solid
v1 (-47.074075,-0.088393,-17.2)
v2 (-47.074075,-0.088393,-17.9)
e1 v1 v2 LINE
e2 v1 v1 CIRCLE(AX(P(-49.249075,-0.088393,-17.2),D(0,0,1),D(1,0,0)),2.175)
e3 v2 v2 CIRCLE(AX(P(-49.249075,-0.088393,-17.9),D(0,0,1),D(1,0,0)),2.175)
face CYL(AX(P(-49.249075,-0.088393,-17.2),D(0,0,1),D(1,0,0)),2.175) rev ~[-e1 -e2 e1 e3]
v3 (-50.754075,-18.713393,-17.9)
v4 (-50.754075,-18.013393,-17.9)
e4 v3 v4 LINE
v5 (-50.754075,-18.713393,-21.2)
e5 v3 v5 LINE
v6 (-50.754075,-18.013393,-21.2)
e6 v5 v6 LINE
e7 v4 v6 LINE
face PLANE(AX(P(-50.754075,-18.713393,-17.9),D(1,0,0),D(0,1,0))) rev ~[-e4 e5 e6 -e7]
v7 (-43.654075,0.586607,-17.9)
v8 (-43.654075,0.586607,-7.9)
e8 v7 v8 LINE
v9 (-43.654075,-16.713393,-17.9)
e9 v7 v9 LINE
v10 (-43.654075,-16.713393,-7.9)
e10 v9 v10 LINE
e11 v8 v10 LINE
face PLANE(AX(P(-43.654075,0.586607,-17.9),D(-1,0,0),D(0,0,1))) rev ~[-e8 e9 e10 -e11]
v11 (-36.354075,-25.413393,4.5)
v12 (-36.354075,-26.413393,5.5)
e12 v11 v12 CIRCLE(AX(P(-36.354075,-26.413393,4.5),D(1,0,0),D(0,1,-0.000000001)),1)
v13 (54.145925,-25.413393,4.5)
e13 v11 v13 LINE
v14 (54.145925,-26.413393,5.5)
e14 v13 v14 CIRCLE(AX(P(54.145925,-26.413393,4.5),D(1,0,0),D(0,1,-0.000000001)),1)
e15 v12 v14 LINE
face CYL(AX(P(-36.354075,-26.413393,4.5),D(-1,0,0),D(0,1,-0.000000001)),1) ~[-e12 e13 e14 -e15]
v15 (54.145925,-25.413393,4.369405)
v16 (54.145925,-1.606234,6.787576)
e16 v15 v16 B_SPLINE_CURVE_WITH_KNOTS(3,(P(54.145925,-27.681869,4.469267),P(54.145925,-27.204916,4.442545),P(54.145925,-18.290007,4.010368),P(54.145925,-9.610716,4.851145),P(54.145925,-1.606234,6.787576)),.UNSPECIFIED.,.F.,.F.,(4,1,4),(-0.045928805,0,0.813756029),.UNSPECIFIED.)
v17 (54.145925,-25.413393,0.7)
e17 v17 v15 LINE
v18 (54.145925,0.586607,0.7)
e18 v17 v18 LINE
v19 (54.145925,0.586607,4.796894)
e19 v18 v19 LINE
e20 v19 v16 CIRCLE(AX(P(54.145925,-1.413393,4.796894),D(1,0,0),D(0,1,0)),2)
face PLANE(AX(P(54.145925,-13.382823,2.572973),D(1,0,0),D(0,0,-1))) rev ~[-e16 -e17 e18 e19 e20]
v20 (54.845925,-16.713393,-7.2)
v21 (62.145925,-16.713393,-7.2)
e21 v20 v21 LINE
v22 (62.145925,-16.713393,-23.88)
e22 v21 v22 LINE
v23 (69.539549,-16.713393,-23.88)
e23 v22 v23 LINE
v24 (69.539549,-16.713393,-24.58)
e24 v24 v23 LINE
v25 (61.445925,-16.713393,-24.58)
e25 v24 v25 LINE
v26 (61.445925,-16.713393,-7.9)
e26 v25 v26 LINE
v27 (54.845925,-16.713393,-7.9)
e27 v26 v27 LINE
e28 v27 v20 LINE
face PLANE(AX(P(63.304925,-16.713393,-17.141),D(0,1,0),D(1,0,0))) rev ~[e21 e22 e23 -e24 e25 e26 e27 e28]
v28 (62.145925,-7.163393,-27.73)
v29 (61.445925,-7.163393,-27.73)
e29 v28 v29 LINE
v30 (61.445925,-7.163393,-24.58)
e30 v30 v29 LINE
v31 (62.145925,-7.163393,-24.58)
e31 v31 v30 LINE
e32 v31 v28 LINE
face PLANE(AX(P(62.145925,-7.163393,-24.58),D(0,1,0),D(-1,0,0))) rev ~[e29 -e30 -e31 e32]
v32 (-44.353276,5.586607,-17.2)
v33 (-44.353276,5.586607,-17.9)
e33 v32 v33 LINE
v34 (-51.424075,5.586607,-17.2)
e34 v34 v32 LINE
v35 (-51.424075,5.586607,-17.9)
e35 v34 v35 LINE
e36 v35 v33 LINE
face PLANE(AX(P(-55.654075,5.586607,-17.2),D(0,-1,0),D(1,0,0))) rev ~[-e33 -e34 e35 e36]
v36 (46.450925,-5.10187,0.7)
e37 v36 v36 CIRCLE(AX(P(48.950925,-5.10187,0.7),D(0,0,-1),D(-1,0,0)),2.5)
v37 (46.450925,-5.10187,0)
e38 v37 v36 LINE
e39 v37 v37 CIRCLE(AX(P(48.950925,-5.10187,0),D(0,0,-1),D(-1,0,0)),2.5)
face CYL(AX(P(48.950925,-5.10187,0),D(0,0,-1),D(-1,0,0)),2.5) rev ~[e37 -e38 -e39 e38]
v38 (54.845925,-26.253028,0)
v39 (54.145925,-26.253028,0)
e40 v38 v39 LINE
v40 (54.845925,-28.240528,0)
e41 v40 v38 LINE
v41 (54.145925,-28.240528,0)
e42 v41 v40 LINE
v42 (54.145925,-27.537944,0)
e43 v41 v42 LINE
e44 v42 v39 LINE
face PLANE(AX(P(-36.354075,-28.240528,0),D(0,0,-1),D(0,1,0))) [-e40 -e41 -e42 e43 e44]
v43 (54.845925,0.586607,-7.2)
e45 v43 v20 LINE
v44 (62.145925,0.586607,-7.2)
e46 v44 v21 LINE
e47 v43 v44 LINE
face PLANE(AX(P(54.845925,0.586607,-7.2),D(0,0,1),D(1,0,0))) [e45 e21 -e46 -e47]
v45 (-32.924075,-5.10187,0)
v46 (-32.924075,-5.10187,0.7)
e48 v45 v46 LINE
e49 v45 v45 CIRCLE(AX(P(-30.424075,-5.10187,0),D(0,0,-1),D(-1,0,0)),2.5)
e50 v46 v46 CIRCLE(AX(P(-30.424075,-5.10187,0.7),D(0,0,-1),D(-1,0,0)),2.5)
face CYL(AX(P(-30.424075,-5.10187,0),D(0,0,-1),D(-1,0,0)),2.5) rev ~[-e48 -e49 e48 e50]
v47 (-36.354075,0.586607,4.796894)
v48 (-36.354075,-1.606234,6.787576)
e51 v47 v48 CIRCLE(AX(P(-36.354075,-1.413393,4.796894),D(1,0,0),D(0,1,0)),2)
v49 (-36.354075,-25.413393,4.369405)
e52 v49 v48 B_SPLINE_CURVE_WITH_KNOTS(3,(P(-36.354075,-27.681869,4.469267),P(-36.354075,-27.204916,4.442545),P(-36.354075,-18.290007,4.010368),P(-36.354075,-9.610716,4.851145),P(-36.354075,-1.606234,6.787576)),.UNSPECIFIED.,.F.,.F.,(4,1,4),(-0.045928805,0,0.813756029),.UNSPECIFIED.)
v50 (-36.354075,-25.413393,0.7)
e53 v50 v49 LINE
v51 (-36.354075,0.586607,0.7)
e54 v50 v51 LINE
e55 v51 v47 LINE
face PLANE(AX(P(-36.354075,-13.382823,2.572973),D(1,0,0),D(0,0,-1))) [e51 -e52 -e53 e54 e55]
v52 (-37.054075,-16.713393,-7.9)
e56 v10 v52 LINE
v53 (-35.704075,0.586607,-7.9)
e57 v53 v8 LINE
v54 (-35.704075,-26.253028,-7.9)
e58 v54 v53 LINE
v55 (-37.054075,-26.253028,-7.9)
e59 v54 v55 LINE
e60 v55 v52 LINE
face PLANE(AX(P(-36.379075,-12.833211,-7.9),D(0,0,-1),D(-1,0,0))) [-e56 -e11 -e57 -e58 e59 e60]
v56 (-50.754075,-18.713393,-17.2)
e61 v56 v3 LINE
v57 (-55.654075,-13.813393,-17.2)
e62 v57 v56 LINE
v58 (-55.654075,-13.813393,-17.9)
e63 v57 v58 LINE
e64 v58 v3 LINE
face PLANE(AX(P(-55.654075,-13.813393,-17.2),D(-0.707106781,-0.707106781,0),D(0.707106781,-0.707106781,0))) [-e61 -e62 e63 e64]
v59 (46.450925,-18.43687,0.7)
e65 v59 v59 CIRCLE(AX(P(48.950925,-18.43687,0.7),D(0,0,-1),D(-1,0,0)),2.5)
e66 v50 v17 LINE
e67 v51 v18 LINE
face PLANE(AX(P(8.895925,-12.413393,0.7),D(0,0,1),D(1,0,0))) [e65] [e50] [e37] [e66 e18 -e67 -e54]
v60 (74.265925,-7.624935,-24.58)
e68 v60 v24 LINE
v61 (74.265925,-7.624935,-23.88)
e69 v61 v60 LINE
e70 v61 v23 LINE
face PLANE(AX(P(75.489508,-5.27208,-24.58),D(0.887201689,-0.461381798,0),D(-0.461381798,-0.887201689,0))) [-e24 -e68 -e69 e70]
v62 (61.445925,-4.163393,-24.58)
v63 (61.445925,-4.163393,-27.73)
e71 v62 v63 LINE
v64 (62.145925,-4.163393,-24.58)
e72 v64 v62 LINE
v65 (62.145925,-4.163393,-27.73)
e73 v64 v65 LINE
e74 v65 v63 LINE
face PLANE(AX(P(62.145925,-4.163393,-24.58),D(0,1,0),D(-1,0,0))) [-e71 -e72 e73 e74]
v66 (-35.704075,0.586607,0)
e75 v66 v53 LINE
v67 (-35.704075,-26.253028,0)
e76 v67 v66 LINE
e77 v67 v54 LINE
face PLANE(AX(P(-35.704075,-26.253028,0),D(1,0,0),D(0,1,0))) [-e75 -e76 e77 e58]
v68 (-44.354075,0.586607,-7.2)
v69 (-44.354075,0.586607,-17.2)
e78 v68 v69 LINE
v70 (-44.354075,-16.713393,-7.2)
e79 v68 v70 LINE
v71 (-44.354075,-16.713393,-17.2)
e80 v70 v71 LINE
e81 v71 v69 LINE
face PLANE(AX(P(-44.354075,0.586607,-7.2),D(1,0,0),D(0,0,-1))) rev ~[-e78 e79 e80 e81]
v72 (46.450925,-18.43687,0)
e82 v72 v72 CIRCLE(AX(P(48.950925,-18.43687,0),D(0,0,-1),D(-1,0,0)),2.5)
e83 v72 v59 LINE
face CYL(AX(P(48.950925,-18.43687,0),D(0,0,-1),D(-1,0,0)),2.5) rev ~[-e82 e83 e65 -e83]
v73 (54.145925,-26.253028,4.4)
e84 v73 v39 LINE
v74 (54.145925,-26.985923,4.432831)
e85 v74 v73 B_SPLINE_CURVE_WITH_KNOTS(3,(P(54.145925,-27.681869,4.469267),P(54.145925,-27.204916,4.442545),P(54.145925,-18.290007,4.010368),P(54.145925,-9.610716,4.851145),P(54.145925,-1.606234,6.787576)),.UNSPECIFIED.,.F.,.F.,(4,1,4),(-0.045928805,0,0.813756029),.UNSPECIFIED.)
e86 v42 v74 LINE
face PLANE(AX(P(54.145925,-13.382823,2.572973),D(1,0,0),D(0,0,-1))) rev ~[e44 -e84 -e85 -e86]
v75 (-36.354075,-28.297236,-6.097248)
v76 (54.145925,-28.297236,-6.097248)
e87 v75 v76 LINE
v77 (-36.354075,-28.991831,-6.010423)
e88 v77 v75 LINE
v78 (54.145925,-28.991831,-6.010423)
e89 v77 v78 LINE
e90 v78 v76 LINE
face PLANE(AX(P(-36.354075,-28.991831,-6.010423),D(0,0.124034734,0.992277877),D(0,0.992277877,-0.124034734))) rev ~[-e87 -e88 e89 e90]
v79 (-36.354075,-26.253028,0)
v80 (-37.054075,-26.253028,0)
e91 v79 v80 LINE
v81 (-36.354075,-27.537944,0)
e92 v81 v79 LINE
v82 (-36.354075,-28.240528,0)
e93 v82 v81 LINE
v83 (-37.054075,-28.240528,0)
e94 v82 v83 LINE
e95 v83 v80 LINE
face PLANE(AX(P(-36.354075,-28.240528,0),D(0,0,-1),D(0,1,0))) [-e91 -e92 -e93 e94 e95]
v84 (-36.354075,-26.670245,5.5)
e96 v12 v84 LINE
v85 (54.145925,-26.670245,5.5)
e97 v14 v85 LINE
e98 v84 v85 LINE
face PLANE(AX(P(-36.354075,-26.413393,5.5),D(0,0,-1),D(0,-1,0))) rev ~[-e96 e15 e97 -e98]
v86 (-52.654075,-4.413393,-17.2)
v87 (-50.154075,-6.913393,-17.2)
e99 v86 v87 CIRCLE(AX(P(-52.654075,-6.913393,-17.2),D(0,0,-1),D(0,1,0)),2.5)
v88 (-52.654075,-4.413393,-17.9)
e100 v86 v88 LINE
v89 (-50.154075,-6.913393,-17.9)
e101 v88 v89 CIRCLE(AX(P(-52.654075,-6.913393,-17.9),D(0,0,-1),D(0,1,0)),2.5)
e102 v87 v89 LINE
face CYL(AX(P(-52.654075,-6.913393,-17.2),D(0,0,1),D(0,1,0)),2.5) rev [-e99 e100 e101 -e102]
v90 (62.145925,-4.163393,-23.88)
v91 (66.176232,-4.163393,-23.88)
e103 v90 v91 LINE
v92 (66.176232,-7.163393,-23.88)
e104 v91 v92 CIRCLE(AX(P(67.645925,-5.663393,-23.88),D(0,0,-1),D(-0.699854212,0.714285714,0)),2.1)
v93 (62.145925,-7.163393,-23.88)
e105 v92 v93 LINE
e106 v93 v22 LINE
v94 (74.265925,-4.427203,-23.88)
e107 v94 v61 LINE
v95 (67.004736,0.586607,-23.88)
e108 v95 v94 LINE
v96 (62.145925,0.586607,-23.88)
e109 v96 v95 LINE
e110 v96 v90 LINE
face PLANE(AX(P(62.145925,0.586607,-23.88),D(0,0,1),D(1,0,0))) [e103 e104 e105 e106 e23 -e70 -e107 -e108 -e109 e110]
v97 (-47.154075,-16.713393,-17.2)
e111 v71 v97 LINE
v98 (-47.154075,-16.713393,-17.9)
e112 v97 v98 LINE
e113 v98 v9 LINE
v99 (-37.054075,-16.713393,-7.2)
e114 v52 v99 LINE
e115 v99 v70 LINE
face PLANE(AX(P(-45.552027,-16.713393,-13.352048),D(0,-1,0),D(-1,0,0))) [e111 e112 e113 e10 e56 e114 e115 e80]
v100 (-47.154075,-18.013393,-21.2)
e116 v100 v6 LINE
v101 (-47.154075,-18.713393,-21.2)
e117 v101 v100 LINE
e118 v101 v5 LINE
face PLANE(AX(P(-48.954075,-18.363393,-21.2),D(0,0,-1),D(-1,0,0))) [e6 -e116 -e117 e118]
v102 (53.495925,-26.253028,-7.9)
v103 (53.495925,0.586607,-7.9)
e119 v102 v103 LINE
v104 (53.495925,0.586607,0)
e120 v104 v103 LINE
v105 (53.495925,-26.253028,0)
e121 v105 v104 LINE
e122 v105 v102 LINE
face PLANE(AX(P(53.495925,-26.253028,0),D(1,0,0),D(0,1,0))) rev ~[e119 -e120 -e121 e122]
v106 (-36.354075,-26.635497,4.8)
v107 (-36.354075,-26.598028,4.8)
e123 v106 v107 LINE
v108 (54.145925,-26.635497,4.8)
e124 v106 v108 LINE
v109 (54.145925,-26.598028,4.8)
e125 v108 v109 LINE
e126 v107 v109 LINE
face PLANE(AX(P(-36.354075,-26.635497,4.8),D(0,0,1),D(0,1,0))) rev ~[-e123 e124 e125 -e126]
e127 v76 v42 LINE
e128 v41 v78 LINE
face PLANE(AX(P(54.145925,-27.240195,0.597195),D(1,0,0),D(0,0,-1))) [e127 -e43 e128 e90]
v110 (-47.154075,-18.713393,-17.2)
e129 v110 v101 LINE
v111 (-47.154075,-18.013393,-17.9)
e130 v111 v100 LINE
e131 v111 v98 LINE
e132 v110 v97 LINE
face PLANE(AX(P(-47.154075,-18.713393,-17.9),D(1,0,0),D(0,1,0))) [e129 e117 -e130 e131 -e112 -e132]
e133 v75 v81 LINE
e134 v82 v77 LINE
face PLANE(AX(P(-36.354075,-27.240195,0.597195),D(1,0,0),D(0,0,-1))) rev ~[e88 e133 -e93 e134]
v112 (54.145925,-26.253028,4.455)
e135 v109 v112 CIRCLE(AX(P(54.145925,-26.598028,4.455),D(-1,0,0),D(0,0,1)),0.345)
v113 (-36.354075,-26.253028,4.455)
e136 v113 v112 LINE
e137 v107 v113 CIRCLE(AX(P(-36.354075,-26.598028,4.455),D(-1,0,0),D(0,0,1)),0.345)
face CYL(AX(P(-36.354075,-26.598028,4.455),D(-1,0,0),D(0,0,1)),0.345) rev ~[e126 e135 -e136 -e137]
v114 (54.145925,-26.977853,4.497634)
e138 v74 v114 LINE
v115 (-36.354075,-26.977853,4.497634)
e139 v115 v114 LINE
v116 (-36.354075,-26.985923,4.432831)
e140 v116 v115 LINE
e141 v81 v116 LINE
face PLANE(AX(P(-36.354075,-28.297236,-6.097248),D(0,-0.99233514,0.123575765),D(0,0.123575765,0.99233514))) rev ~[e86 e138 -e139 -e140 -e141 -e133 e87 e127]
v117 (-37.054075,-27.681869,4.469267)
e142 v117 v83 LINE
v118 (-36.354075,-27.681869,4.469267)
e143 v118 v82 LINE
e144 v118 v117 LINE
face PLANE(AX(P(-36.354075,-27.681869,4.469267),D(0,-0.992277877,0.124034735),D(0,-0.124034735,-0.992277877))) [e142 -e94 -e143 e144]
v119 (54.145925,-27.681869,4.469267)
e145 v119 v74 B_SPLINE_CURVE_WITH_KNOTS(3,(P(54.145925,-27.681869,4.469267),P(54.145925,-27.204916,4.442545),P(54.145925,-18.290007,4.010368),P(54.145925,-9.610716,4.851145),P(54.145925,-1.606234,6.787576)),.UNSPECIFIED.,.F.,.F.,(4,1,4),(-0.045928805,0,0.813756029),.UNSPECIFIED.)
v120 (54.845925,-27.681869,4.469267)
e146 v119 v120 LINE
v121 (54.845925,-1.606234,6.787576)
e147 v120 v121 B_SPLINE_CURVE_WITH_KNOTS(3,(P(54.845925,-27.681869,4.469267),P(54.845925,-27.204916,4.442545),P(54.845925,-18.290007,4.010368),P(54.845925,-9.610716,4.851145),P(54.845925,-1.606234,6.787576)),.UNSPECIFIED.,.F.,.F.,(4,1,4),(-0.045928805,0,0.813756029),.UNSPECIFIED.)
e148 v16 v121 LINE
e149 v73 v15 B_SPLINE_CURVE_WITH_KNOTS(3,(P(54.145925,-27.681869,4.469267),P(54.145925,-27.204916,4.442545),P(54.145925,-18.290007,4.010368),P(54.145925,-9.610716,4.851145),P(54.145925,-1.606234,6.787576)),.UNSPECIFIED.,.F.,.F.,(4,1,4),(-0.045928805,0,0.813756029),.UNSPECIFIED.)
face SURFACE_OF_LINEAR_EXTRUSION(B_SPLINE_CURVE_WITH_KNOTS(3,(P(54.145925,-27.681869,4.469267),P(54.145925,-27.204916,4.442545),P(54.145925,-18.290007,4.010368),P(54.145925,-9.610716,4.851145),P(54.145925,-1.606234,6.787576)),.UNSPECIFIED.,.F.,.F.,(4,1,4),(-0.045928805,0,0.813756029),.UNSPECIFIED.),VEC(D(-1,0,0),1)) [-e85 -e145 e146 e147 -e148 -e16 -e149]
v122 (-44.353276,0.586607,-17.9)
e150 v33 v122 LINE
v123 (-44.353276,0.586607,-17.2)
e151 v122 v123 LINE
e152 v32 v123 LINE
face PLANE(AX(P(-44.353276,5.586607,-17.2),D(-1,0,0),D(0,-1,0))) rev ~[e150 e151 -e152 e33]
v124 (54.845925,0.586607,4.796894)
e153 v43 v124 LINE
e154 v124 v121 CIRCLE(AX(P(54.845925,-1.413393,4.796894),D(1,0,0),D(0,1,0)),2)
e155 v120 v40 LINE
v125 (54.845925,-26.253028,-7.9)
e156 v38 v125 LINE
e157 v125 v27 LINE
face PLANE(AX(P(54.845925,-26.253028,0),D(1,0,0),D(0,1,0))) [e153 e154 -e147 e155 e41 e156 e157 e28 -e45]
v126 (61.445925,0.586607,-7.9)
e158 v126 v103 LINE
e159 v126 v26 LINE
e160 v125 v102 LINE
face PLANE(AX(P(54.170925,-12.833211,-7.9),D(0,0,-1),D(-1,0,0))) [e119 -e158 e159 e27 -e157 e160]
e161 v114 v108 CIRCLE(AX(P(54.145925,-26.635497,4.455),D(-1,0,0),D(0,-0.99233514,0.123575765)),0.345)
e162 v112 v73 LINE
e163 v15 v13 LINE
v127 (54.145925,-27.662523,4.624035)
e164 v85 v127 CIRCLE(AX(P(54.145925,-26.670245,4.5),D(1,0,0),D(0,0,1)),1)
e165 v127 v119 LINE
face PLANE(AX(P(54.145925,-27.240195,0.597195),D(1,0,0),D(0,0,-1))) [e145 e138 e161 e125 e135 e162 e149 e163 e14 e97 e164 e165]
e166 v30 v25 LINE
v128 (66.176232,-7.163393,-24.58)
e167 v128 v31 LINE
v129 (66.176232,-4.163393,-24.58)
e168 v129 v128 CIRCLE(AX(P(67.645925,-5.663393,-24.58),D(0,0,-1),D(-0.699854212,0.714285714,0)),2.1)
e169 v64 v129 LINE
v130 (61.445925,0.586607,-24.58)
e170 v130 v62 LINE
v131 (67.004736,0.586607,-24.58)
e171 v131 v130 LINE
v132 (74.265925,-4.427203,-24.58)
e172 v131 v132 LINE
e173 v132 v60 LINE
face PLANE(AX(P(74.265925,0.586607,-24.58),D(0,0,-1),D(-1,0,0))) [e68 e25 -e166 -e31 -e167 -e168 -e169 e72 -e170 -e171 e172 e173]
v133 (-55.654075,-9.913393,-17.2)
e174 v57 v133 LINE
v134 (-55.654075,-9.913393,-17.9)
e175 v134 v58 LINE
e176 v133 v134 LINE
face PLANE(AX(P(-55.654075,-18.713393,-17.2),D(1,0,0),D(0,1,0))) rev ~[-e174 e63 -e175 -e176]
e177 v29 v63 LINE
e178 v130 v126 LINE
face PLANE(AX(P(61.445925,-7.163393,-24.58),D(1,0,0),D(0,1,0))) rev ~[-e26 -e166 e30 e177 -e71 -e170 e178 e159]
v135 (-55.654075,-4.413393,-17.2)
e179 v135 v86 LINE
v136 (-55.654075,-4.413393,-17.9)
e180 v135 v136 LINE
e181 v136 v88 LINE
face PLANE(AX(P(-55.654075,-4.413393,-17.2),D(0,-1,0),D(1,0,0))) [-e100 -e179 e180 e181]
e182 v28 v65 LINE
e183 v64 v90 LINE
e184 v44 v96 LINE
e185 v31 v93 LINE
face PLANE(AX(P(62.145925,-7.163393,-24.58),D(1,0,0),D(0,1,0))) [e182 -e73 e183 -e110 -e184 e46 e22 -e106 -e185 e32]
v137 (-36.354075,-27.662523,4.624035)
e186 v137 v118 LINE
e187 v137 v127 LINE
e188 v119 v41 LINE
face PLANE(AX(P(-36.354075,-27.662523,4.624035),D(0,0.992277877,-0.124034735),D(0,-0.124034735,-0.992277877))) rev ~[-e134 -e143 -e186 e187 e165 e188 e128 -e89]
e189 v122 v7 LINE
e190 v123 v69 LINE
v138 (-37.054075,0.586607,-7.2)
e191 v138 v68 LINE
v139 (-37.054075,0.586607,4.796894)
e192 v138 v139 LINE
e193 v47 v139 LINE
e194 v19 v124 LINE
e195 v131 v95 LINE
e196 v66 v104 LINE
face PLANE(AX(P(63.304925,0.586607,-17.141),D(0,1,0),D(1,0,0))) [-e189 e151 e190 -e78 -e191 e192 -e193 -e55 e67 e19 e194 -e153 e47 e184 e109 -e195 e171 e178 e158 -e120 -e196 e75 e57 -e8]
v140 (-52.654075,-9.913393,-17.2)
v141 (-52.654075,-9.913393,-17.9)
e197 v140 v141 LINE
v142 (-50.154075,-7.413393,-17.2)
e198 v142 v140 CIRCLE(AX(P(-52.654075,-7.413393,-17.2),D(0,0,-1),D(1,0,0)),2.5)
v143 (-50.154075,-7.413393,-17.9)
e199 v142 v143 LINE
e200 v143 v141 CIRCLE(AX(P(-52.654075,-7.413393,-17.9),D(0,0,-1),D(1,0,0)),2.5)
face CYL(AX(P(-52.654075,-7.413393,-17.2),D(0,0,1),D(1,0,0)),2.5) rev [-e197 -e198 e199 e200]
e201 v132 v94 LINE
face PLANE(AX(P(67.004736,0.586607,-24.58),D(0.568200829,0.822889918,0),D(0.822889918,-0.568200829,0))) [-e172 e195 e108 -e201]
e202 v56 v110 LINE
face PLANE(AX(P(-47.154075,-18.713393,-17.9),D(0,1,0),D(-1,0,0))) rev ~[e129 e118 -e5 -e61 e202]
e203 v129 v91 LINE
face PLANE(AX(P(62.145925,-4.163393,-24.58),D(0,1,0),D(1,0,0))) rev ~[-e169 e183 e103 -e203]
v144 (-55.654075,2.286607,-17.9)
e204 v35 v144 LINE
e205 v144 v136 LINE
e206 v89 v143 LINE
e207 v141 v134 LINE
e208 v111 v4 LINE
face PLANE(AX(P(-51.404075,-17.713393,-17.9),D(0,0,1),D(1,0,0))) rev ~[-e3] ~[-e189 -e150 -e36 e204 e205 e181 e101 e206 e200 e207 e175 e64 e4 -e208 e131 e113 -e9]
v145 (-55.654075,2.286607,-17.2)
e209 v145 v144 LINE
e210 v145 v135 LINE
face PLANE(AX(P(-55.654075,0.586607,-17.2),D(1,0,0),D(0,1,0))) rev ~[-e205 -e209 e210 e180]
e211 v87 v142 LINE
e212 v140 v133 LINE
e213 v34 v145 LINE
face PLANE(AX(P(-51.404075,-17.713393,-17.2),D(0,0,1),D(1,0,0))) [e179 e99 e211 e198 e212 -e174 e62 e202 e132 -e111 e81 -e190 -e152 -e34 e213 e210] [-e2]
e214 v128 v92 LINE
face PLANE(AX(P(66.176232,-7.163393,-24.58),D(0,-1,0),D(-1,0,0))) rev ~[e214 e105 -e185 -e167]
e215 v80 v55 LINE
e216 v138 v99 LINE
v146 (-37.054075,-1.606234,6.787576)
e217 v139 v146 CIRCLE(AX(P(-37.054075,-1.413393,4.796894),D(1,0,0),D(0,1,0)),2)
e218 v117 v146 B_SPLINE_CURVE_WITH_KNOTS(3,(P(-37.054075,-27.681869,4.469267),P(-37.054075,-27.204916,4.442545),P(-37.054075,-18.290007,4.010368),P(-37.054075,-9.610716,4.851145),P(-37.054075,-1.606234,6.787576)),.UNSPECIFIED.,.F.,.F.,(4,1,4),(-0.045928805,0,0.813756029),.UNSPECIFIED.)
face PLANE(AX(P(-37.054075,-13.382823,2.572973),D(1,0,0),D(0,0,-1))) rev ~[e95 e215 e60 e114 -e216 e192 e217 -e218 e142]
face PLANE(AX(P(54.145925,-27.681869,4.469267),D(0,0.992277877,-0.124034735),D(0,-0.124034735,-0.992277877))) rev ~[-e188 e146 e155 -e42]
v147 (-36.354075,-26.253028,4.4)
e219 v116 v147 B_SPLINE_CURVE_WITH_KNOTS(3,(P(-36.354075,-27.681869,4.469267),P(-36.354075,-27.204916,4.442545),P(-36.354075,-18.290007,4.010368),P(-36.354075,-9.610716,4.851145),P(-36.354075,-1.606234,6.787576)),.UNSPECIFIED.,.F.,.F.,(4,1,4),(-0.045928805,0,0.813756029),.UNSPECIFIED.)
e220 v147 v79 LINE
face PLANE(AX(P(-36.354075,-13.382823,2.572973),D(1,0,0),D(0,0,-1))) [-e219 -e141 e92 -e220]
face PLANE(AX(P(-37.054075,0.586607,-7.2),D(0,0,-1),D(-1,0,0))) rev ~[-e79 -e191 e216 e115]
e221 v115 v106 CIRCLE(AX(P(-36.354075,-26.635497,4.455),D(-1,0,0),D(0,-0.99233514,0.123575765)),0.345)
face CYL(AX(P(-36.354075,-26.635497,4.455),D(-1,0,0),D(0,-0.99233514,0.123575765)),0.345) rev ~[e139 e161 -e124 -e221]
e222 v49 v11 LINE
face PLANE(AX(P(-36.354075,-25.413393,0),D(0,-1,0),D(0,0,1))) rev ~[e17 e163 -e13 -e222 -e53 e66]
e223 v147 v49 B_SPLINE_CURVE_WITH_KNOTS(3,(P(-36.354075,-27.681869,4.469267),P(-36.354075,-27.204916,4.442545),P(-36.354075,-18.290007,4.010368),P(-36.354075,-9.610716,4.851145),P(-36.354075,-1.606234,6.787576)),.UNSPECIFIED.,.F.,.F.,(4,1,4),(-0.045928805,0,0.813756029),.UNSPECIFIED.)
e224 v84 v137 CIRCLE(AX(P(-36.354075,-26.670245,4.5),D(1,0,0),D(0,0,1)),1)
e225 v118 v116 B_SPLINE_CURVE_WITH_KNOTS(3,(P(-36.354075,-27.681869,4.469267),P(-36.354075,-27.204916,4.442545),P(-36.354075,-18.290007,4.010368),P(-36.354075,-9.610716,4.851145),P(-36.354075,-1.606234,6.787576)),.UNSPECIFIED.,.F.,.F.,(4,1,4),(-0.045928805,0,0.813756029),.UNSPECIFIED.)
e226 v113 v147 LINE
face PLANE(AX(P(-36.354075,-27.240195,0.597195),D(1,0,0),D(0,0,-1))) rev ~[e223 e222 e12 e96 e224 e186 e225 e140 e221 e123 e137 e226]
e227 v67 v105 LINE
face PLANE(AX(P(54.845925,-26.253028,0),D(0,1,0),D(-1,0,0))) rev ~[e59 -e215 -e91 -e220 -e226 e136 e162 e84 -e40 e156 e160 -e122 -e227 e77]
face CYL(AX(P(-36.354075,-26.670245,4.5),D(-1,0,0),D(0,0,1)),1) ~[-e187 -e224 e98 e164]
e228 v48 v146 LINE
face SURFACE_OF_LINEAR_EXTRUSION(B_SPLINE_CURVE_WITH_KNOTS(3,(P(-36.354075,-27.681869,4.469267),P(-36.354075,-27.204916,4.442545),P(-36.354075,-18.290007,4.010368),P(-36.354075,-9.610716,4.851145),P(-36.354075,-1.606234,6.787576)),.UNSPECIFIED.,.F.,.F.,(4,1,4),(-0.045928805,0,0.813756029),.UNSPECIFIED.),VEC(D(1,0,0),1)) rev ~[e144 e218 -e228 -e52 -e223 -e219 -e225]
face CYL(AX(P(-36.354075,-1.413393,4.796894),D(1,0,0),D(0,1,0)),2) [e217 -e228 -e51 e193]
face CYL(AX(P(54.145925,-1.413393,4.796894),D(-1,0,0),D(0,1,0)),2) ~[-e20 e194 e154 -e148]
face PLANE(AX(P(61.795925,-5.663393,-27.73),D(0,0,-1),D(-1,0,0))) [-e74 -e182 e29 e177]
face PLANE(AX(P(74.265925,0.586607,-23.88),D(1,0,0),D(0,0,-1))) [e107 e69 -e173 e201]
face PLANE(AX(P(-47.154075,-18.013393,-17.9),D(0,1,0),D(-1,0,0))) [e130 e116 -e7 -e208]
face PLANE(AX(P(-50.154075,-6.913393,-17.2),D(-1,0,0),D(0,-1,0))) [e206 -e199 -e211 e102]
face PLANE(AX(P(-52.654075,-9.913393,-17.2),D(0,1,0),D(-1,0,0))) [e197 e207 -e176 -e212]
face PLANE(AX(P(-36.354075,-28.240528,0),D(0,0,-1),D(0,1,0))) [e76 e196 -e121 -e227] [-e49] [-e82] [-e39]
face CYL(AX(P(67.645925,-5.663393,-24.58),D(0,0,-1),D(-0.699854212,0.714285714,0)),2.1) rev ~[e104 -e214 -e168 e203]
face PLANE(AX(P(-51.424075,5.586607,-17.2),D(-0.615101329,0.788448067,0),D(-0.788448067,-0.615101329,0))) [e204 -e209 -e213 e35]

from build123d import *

# Parameters (mm, degrees)
SZKIC1_W                     = 90.5
SZKIC1_H                     = 26
DODANIE_WYCI_GNI_CIE1_DEPTH  = 0.7
DODANIE_WYCI_GNI_CIE2_DEPTH  = 90.5
DODANIE_WYCI_GNI_CIE3_DEPTH  = 0.7
DODANIE_WYCI_GNI_CIE4_DEPTH  = 0.7
SZKIC9_W                     = 1.35
SZKIC9_H                     = 26.839634362
DODANIE_WYCI_GNI_CIE5_DEPTH  = 7.9
DODANIE_WYCI_GNI_CIE6_DEPTH  = 17.3
DODANIE_WYCI_GNI_CIE7_DEPTH  = 17.3
WYTNIJ_WYCI_GNI_CIE1_START   = -0.7
WYTNIJ_WYCI_GNI_CIE1_DEPTH   = 0.7
SZKIC14_W                    = 0.7
SZKIC14_H                    = 3
DODANIE_WYCI_GNI_CIE8_DEPTH  = 3.15
DODANIE_WYCI_GNI_CIE9_DEPTH  = 0.7
SZKIC18_R                    = 2.175
WYTNIJ_WYCI_GNI_CIE2_DEPTH   = 0.7
SZKIC19_W                    = 8.5
SZKIC19_H                    = 2
DODANIE_WYCI_GNI_CIE10_DEPTH = 0.7
WYTNIJ_WYCI_GNI_CIE3_DEPTH   = 0.7
SZKIC22_W                    = 3.6
SZKIC22_H                    = 0.7
DODANIE_WYCI_GNI_CIE11_DEPTH = 3.3
SZKIC23_R                    = 2.5
WYTNIJ_WYCI_GNI_CIE4_DEPTH   = 0.7


with BuildPart() as part:
    # Szkic1 → Dodanie-wyciągnięcie1 (new body)
    with BuildSketch(Plane.XY):
        with Locations((8.895925444, -12.413393351)):
            Rectangle(SZKIC1_W, SZKIC1_H)
    extrude(amount=DODANIE_WYCI_GNI_CIE1_DEPTH)



with BuildPart() as body_2:
    # Szkic3 → Dodanie-wyciągnięcie2 (new body)
    with BuildSketch(Plane.ZY.offset(36.354074556)):
        with BuildLine():
            Line((5.5, -26.413393351), (5.5, -26.670245495))
            ThreePointArc((5.5, -26.670245495), (5.249678176, -27.332048058), (4.624034735, -27.662523372))
            Line((4.624034735, -27.662523372), (-6.01042337, -28.991830635))
            Line((-6.01042337, -28.991830635), (-6.097247684, -28.297236121))
            Line((-6.097247684, -28.297236121), (4.497633639, -26.977852669))
            ThreePointArc((4.497633639, -26.977852669), (4.713586161, -26.863878738), (4.8, -26.635497046))
            Line((4.8, -26.635497046), (4.8, -26.598027713))
            ThreePointArc((4.8, -26.598027713), (4.69895184, -26.354075874), (4.455, -26.253027713))
            Line((4.455, -26.253027713), (0, -26.253027713))
            Line((0, -26.253027713), (0, -25.413393351))
            Line((0, -25.413393351), (4.5, -25.413393351))
            ThreePointArc((4.5, -25.413393351), (5.207106781, -25.706286569), (5.5, -26.413393351))
        make_face()
    extrude(amount=-DODANIE_WYCI_GNI_CIE2_DEPTH)


with BuildPart() as part_1:
    add(part.part)

    add(body_2.part)  # Dodanie-wyciągnięcie3 merges body 2
    # Szkic4 → Dodanie-wyciągnięcie3 (add)
    with BuildSketch(Plane(origin=(54.145925444, 0, 0), x_dir=(0, 0, -1), z_dir=(1, 0, 0))):
        with BuildLine():
            Line((0, 0.586606649), (-4.796894469, 0.586606649))
            ThreePointArc((-4.796894469, 0.586606649), (-6.277718772, -0.069087068), (-6.787575884, -1.606233969))
            add(Edge.make_bspline(
                [(-4.469267418, -27.681869286), (-4.44254495, -27.204916247), (-4.010367743, -18.290006756), (-4.851145038, -9.610716303), (-6.787575884, -1.606233969)],
                knots=[-0.045928805, -0.045928805, -0.045928805, -0.045928805, 0, 0.813756029, 0.813756029, 0.813756029, 0.813756029], degree=3))
            Line((-4.469267418, -27.681869286), (0, -28.240527713))
            Line((0, -28.240527713), (0, 0.586606649))
        make_face()
    extrude(amount=DODANIE_WYCI_GNI_CIE3_DEPTH)

    # Szkic8 → Dodanie-wyciągnięcie4 (add)
    with BuildSketch(Plane.ZY.offset(36.354074556)):
        with BuildLine():
            Line((4.469267418, -27.681869286), (0, -28.240527713))
            Line((0, -28.240527713), (0, 0.586606649))
            Line((0, 0.586606649), (4.796894469, 0.586606649))
            ThreePointArc((4.796894469, 0.586606649), (6.277718772, -0.069087068), (6.787575884, -1.606233969))
            add(Edge.make_bspline(
                [(4.469267418, -27.681869286), (4.44254495, -27.204916247), (4.010367743, -18.290006756), (4.851145038, -9.610716303), (6.787575884, -1.606233969)],
                knots=[-0.045928805, -0.045928805, -0.045928805, -0.045928805, 0, 0.813756029, 0.813756029, 0.813756029, 0.813756029], degree=3))
        make_face()
    extrude(amount=DODANIE_WYCI_GNI_CIE4_DEPTH)

    # Szkic9 → Dodanie-wyciągnięcie5 (add)
    with BuildSketch(Plane(origin=(0, 0, 0), x_dir=(-1, 0, 0), z_dir=(0, 0, -1))):
        with Locations((-54.170925444, -12.833210532)):
            Rectangle(SZKIC9_W, SZKIC9_H)
        with Locations((36.379074556, -12.833210532)):
            Rectangle(SZKIC9_W, SZKIC9_H)
    extrude(amount=DODANIE_WYCI_GNI_CIE5_DEPTH)

    # Szkic11 → Dodanie-wyciągnięcie6 (add)
    with BuildSketch(Plane(origin=(0, 0.586606649, 0), x_dir=(1, 0, 0), z_dir=(0, 1, 0))):
        Polygon((-37.054074556, 7.9), (-37.054074556, 7.2), (-44.354074556, 7.2), (-44.354074556, 17.2), (-55.654074556, 17.2), (-55.654074556, 17.9), (-43.654074556, 17.9), (-43.654074556, 7.9), align=None)
    extrude(amount=-DODANIE_WYCI_GNI_CIE6_DEPTH)

    # Szkic12 → Dodanie-wyciągnięcie7 (add)
    with BuildSketch(Plane(origin=(0, 0.586606649, 0), x_dir=(1, 0, 0), z_dir=(0, 1, 0))):
        Polygon((54.845925444, 7.9), (54.845925444, 7.2), (62.145925444, 7.2), (62.145925444, 23.88), (74.265925444, 23.88), (74.265925444, 24.58), (61.445925444, 24.58), (61.445925444, 7.9), align=None)
    extrude(amount=-DODANIE_WYCI_GNI_CIE7_DEPTH)

    # Szkic13 → Wytnij-wyciągnięcie1 (cut)
    with BuildSketch(Plane.XY.offset(-23.88).offset(WYTNIJ_WYCI_GNI_CIE1_START)):
        Polygon((67.004736449, 0.586606649), (75.489507901, -5.272079996), (69.539548838, -16.713393351), (76.249870064, -16.713393351), (76.249870064, 0.586606649), align=None)
        with BuildLine():
            Line((62.145925444, -4.163393351), (66.176231598, -4.163393351))
            ThreePointArc((66.176231598, -4.163393351), (69.745925444, -5.663393351), (66.176231598, -7.163393351))
            Line((66.176231598, -7.163393351), (62.145925444, -7.163393351))
            Line((62.145925444, -7.163393351), (62.145925444, -4.163393351))
        make_face()
    extrude(amount=WYTNIJ_WYCI_GNI_CIE1_DEPTH, mode=Mode.SUBTRACT)

    # Szkic14 → Dodanie-wyciągnięcie8 (add)
    with BuildSketch(Plane(origin=(0, 0, -24.58), x_dir=(-1, 0, 0), z_dir=(0, 0, -1))):
        with Locations((-61.795925444, -5.663393351)):
            Rectangle(SZKIC14_W, SZKIC14_H)
    extrude(amount=DODANIE_WYCI_GNI_CIE8_DEPTH)

    # Szkic17 → Dodanie-wyciągnięcie9 (add)
    with BuildSketch(Plane.XY.offset(-17.2)):
        Polygon((-44.353275943, 0.54213061), (-55.654074556, 0.586606649), (-55.654074556, 5.586606649), (-44.353275943, 5.586606649), align=None)
    extrude(amount=-DODANIE_WYCI_GNI_CIE9_DEPTH)

    # Szkic18 → Wytnij-wyciągnięcie2 (cut)
    with BuildSketch(Plane.XY.offset(-17.2)):
        with Locations((-49.249074556, -0.088393351)):
            Circle(SZKIC18_R)
        Polygon((-51.424074556, 5.586606649), (-55.654074556, 2.286606649), (-55.654074556, 5.586606649), align=None)
        with BuildLine():
            Line((-55.654074556, -4.413393351), (-52.654074556, -4.413393351))
            ThreePointArc((-52.654074556, -4.413393351), (-50.886307603, -5.145626398), (-50.154074556, -6.913393351))
            Line((-50.154074556, -6.913393351), (-50.154074556, -7.413393351))
            ThreePointArc((-50.154074556, -7.413393351), (-50.886307603, -9.181160304), (-52.654074556, -9.913393351))
            Line((-52.654074556, -9.913393351), (-55.654074556, -9.913393351))
            Line((-55.654074556, -9.913393351), (-55.654074556, -4.413393351))
        make_face()
    extrude(amount=-WYTNIJ_WYCI_GNI_CIE2_DEPTH, mode=Mode.SUBTRACT)

    # Szkic19 → Dodanie-wyciągnięcie10 (add)
    with BuildSketch(Plane.XY.offset(-17.2)):
        with Locations((-51.404074556, -17.713393351)):
            Rectangle(SZKIC19_W, SZKIC19_H)
    extrude(amount=-DODANIE_WYCI_GNI_CIE10_DEPTH)

    # Szkic21 → Wytnij-wyciągnięcie3 (cut)
    with BuildSketch(Plane.XY.offset(-17.2)):
        Polygon((-55.654074556, -13.813393351), (-50.754074556, -18.713393351), (-55.654074556, -18.713393351), align=None)
    extrude(amount=-WYTNIJ_WYCI_GNI_CIE3_DEPTH, mode=Mode.SUBTRACT)

    # Szkic22 → Dodanie-wyciągnięcie11 (add)
    with BuildSketch(Plane(origin=(0, 0, -17.9), x_dir=(-1, 0, 0), z_dir=(0, 0, -1))):
        with Locations((48.954074556, -18.363393351)):
            Rectangle(SZKIC22_W, SZKIC22_H)
    extrude(amount=DODANIE_WYCI_GNI_CIE11_DEPTH)

    # Szkic23 → Wytnij-wyciągnięcie4 (cut)
    with BuildSketch(Plane(origin=(0, 0, 0), x_dir=(-1, 0, 0), z_dir=(0, 0, -1))):
        with Locations((-48.950925444, -5.101869726)):
            Circle(SZKIC23_R)
        with Locations((30.424074556, -5.101869726)):
            Circle(SZKIC23_R)
        with Locations((-48.950925444, -18.436869726)):
            Circle(SZKIC23_R)
    extrude(amount=-WYTNIJ_WYCI_GNI_CIE4_DEPTH, mode=Mode.SUBTRACT)


solid = part_1.part
